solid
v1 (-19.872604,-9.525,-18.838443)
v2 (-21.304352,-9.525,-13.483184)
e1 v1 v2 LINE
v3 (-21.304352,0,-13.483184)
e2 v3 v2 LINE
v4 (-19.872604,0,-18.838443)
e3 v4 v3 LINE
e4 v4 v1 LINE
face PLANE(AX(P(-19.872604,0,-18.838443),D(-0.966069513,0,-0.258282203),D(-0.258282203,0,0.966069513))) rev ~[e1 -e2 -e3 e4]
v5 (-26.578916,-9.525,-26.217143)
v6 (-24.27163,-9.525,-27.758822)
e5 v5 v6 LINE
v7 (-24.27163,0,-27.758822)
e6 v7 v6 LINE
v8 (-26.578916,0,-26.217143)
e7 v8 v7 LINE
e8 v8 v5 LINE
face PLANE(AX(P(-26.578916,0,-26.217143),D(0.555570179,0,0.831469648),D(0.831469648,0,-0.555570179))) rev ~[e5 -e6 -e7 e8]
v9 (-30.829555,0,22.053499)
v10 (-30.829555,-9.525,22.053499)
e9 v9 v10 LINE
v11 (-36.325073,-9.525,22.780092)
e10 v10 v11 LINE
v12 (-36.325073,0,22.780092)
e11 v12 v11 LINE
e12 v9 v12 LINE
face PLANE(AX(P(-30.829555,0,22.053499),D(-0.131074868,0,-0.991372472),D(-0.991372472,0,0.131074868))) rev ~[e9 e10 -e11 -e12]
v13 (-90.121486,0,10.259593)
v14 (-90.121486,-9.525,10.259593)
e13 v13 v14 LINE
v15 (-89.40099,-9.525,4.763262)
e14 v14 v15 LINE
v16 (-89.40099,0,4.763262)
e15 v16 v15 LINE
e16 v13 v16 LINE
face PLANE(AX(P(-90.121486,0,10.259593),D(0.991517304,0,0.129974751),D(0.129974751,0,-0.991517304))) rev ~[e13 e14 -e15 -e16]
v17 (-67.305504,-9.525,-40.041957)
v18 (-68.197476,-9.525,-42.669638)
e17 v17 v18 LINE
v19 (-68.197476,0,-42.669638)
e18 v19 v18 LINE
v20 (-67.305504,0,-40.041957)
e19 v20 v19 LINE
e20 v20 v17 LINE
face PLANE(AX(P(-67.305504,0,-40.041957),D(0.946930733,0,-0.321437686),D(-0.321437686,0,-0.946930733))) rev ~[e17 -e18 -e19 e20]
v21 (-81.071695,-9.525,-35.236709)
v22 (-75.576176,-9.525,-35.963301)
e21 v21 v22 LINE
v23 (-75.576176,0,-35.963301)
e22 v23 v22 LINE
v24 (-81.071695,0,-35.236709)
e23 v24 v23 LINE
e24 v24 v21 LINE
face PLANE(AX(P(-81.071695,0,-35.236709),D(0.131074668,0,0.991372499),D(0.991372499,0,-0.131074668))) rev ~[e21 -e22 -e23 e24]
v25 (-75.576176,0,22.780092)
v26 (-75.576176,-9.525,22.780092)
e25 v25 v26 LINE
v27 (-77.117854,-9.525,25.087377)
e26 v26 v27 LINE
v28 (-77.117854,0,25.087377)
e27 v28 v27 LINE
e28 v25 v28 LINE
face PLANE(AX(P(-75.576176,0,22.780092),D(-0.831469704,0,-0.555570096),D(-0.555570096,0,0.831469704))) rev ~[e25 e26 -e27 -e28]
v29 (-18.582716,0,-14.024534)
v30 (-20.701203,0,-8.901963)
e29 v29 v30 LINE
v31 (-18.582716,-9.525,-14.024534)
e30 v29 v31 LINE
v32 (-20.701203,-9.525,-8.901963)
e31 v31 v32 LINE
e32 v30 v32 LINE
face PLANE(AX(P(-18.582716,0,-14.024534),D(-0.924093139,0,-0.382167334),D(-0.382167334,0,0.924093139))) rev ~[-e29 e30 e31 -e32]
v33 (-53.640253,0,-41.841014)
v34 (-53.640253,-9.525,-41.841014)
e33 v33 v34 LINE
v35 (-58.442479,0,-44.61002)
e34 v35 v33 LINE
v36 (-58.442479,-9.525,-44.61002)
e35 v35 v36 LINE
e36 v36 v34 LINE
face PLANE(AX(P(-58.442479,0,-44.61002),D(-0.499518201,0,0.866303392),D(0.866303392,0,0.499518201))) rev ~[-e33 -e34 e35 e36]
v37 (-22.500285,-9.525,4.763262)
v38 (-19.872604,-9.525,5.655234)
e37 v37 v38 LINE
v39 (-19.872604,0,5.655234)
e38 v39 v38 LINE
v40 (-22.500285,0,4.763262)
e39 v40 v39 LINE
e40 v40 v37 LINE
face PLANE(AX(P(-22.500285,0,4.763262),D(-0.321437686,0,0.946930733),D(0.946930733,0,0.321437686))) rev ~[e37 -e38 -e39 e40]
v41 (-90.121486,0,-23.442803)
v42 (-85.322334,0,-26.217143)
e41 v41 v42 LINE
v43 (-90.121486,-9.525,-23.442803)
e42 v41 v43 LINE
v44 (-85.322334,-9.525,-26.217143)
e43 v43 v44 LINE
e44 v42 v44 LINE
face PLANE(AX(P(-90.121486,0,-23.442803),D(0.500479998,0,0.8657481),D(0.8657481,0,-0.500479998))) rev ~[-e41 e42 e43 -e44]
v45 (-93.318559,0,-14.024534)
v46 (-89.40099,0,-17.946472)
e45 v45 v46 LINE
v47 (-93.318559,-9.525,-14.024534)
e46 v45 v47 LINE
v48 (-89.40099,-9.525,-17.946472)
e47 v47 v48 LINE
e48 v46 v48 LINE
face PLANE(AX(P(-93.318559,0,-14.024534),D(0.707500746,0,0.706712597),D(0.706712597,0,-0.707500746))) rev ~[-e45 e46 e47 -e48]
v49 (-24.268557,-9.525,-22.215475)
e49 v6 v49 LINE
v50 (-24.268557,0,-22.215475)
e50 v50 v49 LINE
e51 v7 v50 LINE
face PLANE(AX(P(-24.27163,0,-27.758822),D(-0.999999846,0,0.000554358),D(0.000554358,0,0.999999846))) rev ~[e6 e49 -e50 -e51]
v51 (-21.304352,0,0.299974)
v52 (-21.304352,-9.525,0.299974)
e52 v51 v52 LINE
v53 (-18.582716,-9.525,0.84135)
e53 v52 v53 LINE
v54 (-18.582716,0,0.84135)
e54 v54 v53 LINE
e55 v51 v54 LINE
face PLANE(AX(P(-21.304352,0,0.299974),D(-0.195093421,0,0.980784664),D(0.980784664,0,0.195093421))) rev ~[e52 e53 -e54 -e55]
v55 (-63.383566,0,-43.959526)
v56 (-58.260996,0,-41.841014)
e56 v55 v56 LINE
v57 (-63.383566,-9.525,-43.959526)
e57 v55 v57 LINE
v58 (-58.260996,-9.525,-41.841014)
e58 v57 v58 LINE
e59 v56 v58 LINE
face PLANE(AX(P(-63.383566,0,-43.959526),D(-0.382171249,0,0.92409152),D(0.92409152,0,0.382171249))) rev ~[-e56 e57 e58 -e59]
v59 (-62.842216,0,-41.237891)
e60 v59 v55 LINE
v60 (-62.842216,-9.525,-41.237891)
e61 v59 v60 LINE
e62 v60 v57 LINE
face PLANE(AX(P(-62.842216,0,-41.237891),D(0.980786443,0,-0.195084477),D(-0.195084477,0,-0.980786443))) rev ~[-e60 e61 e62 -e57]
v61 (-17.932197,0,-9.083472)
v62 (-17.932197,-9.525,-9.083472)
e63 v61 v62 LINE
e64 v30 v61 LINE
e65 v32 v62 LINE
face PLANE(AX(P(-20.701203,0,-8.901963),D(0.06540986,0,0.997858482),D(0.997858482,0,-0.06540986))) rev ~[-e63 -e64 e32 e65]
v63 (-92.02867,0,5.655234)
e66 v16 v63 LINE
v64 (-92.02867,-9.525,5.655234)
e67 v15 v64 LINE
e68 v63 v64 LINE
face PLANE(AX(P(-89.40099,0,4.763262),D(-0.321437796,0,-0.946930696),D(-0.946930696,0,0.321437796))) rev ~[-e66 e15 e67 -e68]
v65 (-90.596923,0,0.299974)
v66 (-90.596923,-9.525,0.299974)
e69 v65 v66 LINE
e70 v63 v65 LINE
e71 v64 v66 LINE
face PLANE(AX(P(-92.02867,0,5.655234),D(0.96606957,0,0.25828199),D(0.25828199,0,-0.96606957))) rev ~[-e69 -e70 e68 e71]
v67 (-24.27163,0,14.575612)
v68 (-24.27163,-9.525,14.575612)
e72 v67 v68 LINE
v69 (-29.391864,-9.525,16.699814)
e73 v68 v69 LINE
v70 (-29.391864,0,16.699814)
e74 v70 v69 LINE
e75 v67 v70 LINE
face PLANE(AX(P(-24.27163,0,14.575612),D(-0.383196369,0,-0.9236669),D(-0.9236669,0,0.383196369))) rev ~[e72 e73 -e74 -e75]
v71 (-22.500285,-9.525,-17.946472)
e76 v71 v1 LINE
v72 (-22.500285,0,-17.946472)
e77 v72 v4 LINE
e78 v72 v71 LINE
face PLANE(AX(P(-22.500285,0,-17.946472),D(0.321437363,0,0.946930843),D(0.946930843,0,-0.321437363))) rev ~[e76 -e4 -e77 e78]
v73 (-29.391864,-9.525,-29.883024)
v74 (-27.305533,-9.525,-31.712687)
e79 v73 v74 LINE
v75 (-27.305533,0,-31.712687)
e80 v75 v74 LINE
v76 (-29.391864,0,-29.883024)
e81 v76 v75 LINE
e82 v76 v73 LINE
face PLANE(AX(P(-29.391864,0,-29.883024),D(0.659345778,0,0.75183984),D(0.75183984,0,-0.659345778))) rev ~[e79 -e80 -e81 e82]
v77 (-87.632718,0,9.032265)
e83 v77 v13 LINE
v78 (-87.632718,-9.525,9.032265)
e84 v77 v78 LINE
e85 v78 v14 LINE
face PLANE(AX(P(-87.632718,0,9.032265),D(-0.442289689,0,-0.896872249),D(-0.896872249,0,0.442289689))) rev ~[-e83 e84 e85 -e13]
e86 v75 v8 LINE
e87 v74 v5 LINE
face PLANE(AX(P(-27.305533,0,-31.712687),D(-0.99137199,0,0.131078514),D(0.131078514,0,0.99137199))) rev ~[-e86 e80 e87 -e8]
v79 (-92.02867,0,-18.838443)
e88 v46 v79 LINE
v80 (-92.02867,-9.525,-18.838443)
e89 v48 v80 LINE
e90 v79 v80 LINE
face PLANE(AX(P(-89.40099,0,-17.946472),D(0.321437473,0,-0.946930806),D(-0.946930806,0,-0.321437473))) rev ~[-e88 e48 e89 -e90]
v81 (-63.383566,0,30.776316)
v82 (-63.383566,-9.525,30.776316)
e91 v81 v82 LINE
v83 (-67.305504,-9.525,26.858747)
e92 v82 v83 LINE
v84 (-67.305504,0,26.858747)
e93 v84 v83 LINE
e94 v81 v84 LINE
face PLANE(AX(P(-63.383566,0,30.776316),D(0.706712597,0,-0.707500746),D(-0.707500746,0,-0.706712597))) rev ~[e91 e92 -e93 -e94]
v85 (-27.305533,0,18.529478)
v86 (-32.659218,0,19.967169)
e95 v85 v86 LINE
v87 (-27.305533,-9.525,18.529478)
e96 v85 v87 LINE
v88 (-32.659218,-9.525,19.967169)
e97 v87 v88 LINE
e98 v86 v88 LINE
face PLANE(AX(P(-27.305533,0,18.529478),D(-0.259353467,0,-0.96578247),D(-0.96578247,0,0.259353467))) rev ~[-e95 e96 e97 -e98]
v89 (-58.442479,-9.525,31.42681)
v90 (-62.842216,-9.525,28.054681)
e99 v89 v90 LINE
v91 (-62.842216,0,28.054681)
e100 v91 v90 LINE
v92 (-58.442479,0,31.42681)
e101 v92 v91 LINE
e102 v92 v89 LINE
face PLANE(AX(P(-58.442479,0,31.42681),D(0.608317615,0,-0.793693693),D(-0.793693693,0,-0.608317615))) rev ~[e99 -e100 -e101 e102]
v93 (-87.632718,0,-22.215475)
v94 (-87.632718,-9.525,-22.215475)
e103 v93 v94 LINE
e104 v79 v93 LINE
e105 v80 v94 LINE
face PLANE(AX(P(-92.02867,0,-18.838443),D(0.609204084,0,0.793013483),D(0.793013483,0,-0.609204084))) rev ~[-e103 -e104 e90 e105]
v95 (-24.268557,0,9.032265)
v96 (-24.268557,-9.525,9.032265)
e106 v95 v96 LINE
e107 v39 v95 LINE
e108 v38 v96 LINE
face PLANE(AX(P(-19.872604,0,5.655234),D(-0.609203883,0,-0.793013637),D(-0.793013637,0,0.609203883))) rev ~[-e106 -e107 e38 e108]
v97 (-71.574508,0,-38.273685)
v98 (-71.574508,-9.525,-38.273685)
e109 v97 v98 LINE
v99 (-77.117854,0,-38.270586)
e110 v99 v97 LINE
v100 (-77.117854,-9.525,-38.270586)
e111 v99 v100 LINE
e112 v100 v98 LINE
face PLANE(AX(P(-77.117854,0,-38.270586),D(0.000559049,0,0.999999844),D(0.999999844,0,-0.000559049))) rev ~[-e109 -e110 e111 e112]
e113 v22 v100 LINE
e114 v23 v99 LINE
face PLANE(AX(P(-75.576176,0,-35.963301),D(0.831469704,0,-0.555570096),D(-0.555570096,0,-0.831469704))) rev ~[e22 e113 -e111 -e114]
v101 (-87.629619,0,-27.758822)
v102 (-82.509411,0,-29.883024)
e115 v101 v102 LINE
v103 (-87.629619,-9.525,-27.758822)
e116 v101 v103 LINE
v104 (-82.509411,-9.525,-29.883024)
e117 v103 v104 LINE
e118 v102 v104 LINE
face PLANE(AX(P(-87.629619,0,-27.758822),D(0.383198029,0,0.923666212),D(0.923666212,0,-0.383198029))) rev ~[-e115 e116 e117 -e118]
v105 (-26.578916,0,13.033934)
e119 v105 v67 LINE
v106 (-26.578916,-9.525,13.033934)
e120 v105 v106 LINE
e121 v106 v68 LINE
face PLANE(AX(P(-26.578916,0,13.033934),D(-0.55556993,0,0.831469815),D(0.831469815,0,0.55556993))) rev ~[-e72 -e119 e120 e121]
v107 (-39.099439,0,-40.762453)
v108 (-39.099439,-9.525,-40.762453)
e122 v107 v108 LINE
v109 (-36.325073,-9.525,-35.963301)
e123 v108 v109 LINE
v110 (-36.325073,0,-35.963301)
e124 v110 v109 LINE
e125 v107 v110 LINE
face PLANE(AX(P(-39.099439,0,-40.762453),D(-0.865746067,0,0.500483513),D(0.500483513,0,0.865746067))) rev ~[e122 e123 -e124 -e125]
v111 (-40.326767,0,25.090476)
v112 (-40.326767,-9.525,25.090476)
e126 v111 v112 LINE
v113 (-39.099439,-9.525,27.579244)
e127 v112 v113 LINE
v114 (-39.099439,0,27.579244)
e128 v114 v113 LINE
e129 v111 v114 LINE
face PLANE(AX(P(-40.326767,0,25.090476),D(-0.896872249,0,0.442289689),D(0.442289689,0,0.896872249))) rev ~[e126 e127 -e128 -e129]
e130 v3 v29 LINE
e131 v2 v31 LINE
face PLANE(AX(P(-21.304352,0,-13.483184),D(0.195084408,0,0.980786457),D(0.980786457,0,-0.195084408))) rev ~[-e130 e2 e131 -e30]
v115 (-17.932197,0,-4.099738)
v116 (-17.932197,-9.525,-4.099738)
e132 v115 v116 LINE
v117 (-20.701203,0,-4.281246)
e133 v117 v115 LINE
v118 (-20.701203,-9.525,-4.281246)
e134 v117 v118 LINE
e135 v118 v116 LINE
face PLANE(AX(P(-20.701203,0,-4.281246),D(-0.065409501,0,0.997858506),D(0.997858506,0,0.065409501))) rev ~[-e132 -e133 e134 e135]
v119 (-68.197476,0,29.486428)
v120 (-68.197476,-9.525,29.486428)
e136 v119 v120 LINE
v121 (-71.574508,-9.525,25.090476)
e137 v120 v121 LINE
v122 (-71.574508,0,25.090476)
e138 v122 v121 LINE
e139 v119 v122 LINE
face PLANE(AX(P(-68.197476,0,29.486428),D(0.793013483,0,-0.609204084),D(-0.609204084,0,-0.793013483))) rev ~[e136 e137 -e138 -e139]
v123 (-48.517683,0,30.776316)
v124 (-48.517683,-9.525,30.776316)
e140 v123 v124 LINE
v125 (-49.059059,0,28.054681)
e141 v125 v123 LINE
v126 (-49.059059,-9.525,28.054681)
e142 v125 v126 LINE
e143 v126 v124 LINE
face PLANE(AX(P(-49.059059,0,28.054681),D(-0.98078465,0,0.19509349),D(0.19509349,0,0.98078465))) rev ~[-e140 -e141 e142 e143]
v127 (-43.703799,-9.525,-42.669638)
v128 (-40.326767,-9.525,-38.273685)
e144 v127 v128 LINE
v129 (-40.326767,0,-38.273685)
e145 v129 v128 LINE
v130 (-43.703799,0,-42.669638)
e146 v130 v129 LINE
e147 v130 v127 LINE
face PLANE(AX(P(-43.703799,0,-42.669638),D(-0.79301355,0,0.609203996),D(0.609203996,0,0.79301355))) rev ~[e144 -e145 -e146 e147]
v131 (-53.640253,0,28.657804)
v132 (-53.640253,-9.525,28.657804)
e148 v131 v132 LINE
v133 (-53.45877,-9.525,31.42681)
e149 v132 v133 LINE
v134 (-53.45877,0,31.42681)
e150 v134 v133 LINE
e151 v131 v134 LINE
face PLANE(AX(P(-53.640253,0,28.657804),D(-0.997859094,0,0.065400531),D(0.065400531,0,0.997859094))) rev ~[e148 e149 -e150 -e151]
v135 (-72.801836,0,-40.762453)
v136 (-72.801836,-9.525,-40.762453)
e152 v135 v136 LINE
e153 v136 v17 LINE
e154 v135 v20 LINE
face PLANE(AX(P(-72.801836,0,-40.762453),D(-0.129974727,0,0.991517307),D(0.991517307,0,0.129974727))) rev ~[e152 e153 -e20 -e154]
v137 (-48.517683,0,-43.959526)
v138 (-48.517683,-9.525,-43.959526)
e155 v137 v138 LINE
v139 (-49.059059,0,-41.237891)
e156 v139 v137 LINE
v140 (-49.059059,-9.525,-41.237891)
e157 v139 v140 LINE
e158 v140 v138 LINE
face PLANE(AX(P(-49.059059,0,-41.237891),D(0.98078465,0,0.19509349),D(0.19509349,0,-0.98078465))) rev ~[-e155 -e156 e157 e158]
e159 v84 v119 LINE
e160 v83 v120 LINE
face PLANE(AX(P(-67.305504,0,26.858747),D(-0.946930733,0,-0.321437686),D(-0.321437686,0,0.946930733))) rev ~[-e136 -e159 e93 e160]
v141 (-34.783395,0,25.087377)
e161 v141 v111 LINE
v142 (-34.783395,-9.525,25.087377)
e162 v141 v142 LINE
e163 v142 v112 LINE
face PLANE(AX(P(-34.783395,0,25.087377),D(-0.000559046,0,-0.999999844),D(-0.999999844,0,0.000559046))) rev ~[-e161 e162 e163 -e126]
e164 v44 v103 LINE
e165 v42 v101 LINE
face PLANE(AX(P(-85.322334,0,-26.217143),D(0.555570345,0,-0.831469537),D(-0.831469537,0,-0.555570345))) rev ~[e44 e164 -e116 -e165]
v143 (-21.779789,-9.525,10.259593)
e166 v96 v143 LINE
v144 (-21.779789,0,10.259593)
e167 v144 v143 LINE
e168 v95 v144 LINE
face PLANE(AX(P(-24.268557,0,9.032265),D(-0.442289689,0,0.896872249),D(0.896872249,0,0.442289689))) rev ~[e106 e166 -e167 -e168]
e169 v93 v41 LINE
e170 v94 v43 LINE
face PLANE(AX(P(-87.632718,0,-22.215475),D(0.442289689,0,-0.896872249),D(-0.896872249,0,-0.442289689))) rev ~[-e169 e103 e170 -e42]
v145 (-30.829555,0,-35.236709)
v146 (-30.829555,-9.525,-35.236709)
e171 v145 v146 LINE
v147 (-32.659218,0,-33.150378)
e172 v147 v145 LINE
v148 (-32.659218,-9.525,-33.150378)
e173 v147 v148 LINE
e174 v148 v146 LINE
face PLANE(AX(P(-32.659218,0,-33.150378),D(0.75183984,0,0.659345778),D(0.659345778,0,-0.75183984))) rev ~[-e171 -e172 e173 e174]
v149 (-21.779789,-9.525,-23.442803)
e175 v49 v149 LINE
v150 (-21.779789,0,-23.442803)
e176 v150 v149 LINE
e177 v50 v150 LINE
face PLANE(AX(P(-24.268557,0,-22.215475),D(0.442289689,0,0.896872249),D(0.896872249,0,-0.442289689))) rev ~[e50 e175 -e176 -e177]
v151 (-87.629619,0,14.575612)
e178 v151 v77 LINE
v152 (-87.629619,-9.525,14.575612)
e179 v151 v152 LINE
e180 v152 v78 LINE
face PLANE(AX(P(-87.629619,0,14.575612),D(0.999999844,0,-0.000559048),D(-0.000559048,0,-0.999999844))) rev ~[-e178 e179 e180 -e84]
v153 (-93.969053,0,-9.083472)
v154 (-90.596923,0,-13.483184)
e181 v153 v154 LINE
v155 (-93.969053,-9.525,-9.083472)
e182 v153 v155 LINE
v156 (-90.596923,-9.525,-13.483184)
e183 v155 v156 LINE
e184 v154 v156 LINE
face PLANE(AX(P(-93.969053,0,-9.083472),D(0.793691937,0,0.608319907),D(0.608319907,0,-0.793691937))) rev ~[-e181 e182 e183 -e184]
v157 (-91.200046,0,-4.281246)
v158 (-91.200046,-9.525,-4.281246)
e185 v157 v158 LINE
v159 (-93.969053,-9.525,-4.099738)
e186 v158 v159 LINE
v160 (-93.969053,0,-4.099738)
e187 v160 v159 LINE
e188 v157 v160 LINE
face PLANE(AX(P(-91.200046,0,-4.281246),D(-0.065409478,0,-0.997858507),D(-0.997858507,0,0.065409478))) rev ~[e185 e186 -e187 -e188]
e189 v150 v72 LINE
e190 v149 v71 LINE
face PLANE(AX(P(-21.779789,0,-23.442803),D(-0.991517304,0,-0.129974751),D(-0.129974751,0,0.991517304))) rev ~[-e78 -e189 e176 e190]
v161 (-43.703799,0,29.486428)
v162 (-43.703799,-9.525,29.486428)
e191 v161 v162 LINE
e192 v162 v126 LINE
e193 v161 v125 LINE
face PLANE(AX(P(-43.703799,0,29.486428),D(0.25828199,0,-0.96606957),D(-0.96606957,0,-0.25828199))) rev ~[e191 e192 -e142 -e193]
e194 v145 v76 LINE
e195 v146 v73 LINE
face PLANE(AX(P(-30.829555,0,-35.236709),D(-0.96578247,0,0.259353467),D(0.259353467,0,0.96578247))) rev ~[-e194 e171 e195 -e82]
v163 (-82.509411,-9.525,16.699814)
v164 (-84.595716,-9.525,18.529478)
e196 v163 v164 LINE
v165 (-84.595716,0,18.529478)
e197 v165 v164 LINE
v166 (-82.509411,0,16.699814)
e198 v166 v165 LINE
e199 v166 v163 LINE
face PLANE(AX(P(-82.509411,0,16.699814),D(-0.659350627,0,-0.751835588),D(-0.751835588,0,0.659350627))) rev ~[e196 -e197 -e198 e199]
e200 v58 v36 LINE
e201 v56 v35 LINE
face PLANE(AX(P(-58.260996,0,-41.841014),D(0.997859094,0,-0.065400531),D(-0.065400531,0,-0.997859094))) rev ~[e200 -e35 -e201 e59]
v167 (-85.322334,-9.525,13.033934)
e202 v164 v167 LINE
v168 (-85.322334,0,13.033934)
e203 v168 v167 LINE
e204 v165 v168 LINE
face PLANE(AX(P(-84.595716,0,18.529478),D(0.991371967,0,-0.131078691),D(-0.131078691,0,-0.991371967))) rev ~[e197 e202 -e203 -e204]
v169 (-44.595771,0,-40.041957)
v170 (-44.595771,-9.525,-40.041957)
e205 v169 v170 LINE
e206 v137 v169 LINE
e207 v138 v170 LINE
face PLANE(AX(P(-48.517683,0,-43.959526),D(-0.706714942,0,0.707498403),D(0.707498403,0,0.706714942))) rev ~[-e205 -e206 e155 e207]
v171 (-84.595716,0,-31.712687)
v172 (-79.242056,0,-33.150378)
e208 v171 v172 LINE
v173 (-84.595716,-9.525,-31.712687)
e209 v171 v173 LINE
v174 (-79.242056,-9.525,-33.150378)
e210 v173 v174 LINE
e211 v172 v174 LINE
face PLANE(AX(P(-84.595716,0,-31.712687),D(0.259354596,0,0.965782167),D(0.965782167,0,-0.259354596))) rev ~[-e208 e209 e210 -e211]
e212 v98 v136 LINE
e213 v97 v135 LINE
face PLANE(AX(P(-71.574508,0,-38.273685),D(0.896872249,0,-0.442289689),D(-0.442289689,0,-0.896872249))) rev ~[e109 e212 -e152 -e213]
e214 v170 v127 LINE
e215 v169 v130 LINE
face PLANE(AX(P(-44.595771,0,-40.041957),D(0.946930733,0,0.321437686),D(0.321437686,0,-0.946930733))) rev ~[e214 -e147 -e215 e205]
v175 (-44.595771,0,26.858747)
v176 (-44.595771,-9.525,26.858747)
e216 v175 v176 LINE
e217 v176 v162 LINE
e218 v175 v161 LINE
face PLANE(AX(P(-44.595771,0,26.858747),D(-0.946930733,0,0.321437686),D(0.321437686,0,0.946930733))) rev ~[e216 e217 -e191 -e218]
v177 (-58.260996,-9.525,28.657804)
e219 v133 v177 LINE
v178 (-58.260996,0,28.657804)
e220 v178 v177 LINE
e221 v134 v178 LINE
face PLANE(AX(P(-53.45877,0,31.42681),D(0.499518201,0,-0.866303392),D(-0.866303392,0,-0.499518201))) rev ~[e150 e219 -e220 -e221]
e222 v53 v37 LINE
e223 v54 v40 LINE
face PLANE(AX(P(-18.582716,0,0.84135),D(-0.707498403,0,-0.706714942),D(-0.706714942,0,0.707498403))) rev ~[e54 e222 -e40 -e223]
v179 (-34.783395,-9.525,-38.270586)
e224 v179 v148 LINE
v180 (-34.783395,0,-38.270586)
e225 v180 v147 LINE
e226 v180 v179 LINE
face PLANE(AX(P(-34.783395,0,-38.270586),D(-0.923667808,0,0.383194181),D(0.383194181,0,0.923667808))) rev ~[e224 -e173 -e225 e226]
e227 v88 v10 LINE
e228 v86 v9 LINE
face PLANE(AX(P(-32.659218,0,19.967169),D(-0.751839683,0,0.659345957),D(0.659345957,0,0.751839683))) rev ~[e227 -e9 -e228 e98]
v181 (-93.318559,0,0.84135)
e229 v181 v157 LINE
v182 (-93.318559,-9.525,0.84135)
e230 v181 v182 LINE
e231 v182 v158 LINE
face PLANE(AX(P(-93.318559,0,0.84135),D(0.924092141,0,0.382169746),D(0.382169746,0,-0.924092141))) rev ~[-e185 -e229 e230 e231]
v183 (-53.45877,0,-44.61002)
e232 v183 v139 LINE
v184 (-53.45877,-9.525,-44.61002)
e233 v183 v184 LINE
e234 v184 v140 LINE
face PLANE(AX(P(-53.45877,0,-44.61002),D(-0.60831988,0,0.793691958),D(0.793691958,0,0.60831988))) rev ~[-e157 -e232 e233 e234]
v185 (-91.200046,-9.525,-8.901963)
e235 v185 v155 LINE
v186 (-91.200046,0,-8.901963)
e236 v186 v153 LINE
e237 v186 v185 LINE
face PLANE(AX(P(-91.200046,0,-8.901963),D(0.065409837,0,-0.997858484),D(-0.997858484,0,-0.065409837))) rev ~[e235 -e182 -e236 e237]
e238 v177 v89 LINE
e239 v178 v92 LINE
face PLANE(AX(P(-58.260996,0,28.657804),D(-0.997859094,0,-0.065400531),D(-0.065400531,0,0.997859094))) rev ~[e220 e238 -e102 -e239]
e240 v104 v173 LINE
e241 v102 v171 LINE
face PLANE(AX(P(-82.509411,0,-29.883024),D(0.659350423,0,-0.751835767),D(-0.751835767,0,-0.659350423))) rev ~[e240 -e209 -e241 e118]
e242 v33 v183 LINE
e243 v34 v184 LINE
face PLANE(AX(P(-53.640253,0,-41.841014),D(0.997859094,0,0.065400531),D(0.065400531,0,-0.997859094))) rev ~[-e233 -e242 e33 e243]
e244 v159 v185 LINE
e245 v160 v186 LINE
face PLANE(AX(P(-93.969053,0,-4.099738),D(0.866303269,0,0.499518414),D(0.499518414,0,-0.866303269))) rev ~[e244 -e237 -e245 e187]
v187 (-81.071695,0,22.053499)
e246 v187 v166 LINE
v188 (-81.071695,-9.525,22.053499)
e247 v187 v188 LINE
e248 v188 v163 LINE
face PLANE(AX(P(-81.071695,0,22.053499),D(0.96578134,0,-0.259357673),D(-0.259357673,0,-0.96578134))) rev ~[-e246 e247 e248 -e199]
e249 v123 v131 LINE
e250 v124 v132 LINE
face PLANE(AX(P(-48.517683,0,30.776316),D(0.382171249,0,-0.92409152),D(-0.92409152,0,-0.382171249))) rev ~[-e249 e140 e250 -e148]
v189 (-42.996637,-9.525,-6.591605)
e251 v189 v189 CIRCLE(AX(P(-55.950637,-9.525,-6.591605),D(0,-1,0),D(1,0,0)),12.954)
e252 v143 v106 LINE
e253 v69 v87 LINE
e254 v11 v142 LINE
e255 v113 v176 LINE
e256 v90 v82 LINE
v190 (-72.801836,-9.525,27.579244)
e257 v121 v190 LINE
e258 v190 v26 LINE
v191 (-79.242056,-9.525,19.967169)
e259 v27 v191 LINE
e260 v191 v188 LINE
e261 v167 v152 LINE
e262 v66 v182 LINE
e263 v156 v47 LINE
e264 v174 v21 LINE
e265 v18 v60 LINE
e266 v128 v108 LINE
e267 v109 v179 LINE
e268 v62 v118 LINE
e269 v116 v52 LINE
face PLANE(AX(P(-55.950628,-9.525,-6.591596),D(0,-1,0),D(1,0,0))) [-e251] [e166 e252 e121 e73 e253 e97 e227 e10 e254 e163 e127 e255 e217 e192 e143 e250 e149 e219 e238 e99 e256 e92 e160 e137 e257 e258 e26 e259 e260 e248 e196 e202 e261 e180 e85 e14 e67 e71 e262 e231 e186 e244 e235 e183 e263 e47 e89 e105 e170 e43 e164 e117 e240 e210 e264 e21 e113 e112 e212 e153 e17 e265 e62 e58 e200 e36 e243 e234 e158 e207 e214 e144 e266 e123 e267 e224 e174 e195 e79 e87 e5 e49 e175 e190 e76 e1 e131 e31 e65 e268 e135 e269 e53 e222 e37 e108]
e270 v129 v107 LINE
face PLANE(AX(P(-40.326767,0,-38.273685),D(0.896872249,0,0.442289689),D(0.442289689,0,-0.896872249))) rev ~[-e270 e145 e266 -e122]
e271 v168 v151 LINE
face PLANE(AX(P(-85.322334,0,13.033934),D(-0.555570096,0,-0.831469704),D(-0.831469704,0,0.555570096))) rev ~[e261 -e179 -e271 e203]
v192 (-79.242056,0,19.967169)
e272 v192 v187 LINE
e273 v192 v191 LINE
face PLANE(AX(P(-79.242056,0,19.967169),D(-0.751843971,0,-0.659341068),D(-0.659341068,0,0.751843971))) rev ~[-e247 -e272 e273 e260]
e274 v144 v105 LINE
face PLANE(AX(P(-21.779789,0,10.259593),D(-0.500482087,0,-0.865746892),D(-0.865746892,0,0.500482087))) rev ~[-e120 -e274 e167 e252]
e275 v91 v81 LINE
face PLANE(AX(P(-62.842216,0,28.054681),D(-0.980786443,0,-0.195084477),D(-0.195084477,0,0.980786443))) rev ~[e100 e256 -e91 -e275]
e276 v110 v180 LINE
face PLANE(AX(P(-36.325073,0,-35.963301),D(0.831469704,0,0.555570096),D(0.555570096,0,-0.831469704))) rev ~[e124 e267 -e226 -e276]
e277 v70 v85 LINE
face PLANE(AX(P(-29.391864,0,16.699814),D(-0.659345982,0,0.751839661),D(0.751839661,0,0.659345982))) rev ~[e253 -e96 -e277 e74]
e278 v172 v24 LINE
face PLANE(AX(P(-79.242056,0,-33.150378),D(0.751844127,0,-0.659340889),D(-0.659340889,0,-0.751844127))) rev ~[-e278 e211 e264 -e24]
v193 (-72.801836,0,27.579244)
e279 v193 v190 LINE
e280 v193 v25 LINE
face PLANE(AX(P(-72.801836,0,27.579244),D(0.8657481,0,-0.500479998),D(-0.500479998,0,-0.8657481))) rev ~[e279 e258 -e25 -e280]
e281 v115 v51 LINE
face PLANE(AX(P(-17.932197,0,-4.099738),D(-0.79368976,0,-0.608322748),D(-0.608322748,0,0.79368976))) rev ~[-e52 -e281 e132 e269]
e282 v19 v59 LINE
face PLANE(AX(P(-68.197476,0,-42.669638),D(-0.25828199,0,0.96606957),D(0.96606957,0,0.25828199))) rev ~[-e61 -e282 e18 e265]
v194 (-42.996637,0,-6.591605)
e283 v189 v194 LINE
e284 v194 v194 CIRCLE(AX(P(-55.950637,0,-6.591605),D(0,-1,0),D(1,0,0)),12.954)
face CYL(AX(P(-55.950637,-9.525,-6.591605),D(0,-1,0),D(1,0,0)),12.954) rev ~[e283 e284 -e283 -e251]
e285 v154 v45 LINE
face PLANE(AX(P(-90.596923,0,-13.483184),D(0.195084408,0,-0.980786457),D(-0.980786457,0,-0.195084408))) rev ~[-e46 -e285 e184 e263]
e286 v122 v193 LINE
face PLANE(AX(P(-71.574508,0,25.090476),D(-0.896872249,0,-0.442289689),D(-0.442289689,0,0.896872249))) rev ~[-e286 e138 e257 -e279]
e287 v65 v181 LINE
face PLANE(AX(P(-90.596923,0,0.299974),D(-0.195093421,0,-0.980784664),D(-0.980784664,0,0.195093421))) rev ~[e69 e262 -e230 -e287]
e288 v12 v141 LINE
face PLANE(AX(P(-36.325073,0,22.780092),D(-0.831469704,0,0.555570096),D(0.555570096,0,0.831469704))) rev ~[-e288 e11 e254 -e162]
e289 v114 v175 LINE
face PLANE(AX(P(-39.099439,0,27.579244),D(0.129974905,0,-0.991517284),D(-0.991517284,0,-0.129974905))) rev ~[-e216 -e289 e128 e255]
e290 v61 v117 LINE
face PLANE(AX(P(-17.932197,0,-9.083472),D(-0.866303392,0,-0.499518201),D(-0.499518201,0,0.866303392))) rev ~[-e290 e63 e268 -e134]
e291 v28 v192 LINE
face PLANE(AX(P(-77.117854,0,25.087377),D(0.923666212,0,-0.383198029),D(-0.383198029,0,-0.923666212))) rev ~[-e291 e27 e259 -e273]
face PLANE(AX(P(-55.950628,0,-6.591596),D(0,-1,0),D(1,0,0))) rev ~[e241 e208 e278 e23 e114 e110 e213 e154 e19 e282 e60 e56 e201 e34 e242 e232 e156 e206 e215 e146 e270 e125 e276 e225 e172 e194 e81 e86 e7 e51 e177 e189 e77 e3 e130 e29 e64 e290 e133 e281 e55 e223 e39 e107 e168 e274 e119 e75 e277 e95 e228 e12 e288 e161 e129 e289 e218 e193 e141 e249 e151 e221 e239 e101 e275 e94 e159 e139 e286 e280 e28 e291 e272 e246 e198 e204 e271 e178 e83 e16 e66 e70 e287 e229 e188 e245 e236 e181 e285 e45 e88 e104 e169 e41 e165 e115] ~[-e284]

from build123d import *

# Parameters (mm, degrees)
F0_R     = 8.905875
F1_DEPTH = 9.525
F2_R     = 12.954
F2_R_2   = 8.905875
F3_DEPTH = 34.29


with BuildPart() as f1:
    # F0 (on Front) → F1 (new body)
    with BuildSketch(Plane.XZ):
        Polygon((-48.517683, 30.776316), (-53.640253, 28.657804), (-53.45877, 31.42681), (-58.260996, 28.657804), (-58.442479, 31.42681), (-62.842216, 28.054681), (-63.383566, 30.776316), (-67.305504, 26.858747), (-68.197476, 29.486428), (-71.574508, 25.090476), (-72.801836, 27.579244), (-75.576176, 22.780092), (-77.117854, 25.087377), (-79.242056, 19.967169), (-81.071695, 22.053499), (-82.509411, 16.699814), (-84.595716, 18.529478), (-85.322334, 13.033934), (-87.629619, 14.575612), (-87.632718, 9.032265), (-90.121486, 10.259593), (-89.40099, 4.763262), (-92.02867, 5.655234), (-90.596923, 0.299974), (-93.318559, 0.84135), (-91.200046, -4.281246), (-93.969053, -4.099738), (-91.200046, -8.901963), (-93.969053, -9.083472), (-90.596923, -13.483184), (-93.318559, -14.024534), (-89.40099, -17.946472), (-92.02867, -18.838443), (-87.632718, -22.215475), (-90.121486, -23.442803), (-85.322334, -26.217143), (-87.629619, -27.758822), (-82.509411, -29.883024), (-84.595716, -31.712687), (-79.242056, -33.150378), (-81.071695, -35.236709), (-75.576176, -35.963301), (-77.117854, -38.270586), (-71.574508, -38.273685), (-72.801836, -40.762453), (-67.305504, -40.041957), (-68.197476, -42.669638), (-62.842216, -41.237891), (-63.383566, -43.959526), (-58.260996, -41.841014), (-58.442479, -44.61002), (-53.640253, -41.841014), (-53.45877, -44.61002), (-49.059059, -41.237891), (-48.517683, -43.959526), (-44.595771, -40.041957), (-43.703799, -42.669638), (-40.326767, -38.273685), (-39.099439, -40.762453), (-36.325073, -35.963301), (-34.783395, -38.270586), (-32.659218, -33.150378), (-30.829555, -35.236709), (-29.391864, -29.883024), (-27.305533, -31.712687), (-26.578916, -26.217143), (-24.27163, -27.758822), (-24.268557, -22.215475), (-21.779789, -23.442803), (-22.500285, -17.946472), (-19.872604, -18.838443), (-21.304352, -13.483184), (-18.582716, -14.024534), (-20.701203, -8.901963), (-17.932197, -9.083472), (-20.701203, -4.281246), (-17.932197, -4.099738), (-21.304352, 0.299974), (-18.582716, 0.84135), (-22.500285, 4.763262), (-19.872604, 5.655234), (-24.268557, 9.032265), (-21.779789, 10.259593), (-26.578916, 13.033934), (-24.27163, 14.575612), (-29.391864, 16.699814), (-27.305533, 18.529478), (-32.659218, 19.967169), (-30.829555, 22.053499), (-36.325073, 22.780092), (-34.783395, 25.087377), (-40.326767, 25.090476), (-39.099439, 27.579244), (-44.595771, 26.858747), (-43.703799, 29.486428), (-49.059059, 28.054681), align=None)
        with Locations((-55.950637, -6.591605)):
            Circle(F0_R, mode=Mode.SUBTRACT)
    extrude(amount=F1_DEPTH)

    # F2 (on face) → F3 (cut)
    with BuildSketch(Plane.XZ.offset(9.525)):
        with Locations((-55.950637, -6.591605)):
            Circle(F2_R)
        with Locations((-55.950637, -6.591605)):
            Circle(F2_R_2, mode=Mode.SUBTRACT)
    extrude(amount=-F3_DEPTH, mode=Mode.SUBTRACT)


solid = f1.part
